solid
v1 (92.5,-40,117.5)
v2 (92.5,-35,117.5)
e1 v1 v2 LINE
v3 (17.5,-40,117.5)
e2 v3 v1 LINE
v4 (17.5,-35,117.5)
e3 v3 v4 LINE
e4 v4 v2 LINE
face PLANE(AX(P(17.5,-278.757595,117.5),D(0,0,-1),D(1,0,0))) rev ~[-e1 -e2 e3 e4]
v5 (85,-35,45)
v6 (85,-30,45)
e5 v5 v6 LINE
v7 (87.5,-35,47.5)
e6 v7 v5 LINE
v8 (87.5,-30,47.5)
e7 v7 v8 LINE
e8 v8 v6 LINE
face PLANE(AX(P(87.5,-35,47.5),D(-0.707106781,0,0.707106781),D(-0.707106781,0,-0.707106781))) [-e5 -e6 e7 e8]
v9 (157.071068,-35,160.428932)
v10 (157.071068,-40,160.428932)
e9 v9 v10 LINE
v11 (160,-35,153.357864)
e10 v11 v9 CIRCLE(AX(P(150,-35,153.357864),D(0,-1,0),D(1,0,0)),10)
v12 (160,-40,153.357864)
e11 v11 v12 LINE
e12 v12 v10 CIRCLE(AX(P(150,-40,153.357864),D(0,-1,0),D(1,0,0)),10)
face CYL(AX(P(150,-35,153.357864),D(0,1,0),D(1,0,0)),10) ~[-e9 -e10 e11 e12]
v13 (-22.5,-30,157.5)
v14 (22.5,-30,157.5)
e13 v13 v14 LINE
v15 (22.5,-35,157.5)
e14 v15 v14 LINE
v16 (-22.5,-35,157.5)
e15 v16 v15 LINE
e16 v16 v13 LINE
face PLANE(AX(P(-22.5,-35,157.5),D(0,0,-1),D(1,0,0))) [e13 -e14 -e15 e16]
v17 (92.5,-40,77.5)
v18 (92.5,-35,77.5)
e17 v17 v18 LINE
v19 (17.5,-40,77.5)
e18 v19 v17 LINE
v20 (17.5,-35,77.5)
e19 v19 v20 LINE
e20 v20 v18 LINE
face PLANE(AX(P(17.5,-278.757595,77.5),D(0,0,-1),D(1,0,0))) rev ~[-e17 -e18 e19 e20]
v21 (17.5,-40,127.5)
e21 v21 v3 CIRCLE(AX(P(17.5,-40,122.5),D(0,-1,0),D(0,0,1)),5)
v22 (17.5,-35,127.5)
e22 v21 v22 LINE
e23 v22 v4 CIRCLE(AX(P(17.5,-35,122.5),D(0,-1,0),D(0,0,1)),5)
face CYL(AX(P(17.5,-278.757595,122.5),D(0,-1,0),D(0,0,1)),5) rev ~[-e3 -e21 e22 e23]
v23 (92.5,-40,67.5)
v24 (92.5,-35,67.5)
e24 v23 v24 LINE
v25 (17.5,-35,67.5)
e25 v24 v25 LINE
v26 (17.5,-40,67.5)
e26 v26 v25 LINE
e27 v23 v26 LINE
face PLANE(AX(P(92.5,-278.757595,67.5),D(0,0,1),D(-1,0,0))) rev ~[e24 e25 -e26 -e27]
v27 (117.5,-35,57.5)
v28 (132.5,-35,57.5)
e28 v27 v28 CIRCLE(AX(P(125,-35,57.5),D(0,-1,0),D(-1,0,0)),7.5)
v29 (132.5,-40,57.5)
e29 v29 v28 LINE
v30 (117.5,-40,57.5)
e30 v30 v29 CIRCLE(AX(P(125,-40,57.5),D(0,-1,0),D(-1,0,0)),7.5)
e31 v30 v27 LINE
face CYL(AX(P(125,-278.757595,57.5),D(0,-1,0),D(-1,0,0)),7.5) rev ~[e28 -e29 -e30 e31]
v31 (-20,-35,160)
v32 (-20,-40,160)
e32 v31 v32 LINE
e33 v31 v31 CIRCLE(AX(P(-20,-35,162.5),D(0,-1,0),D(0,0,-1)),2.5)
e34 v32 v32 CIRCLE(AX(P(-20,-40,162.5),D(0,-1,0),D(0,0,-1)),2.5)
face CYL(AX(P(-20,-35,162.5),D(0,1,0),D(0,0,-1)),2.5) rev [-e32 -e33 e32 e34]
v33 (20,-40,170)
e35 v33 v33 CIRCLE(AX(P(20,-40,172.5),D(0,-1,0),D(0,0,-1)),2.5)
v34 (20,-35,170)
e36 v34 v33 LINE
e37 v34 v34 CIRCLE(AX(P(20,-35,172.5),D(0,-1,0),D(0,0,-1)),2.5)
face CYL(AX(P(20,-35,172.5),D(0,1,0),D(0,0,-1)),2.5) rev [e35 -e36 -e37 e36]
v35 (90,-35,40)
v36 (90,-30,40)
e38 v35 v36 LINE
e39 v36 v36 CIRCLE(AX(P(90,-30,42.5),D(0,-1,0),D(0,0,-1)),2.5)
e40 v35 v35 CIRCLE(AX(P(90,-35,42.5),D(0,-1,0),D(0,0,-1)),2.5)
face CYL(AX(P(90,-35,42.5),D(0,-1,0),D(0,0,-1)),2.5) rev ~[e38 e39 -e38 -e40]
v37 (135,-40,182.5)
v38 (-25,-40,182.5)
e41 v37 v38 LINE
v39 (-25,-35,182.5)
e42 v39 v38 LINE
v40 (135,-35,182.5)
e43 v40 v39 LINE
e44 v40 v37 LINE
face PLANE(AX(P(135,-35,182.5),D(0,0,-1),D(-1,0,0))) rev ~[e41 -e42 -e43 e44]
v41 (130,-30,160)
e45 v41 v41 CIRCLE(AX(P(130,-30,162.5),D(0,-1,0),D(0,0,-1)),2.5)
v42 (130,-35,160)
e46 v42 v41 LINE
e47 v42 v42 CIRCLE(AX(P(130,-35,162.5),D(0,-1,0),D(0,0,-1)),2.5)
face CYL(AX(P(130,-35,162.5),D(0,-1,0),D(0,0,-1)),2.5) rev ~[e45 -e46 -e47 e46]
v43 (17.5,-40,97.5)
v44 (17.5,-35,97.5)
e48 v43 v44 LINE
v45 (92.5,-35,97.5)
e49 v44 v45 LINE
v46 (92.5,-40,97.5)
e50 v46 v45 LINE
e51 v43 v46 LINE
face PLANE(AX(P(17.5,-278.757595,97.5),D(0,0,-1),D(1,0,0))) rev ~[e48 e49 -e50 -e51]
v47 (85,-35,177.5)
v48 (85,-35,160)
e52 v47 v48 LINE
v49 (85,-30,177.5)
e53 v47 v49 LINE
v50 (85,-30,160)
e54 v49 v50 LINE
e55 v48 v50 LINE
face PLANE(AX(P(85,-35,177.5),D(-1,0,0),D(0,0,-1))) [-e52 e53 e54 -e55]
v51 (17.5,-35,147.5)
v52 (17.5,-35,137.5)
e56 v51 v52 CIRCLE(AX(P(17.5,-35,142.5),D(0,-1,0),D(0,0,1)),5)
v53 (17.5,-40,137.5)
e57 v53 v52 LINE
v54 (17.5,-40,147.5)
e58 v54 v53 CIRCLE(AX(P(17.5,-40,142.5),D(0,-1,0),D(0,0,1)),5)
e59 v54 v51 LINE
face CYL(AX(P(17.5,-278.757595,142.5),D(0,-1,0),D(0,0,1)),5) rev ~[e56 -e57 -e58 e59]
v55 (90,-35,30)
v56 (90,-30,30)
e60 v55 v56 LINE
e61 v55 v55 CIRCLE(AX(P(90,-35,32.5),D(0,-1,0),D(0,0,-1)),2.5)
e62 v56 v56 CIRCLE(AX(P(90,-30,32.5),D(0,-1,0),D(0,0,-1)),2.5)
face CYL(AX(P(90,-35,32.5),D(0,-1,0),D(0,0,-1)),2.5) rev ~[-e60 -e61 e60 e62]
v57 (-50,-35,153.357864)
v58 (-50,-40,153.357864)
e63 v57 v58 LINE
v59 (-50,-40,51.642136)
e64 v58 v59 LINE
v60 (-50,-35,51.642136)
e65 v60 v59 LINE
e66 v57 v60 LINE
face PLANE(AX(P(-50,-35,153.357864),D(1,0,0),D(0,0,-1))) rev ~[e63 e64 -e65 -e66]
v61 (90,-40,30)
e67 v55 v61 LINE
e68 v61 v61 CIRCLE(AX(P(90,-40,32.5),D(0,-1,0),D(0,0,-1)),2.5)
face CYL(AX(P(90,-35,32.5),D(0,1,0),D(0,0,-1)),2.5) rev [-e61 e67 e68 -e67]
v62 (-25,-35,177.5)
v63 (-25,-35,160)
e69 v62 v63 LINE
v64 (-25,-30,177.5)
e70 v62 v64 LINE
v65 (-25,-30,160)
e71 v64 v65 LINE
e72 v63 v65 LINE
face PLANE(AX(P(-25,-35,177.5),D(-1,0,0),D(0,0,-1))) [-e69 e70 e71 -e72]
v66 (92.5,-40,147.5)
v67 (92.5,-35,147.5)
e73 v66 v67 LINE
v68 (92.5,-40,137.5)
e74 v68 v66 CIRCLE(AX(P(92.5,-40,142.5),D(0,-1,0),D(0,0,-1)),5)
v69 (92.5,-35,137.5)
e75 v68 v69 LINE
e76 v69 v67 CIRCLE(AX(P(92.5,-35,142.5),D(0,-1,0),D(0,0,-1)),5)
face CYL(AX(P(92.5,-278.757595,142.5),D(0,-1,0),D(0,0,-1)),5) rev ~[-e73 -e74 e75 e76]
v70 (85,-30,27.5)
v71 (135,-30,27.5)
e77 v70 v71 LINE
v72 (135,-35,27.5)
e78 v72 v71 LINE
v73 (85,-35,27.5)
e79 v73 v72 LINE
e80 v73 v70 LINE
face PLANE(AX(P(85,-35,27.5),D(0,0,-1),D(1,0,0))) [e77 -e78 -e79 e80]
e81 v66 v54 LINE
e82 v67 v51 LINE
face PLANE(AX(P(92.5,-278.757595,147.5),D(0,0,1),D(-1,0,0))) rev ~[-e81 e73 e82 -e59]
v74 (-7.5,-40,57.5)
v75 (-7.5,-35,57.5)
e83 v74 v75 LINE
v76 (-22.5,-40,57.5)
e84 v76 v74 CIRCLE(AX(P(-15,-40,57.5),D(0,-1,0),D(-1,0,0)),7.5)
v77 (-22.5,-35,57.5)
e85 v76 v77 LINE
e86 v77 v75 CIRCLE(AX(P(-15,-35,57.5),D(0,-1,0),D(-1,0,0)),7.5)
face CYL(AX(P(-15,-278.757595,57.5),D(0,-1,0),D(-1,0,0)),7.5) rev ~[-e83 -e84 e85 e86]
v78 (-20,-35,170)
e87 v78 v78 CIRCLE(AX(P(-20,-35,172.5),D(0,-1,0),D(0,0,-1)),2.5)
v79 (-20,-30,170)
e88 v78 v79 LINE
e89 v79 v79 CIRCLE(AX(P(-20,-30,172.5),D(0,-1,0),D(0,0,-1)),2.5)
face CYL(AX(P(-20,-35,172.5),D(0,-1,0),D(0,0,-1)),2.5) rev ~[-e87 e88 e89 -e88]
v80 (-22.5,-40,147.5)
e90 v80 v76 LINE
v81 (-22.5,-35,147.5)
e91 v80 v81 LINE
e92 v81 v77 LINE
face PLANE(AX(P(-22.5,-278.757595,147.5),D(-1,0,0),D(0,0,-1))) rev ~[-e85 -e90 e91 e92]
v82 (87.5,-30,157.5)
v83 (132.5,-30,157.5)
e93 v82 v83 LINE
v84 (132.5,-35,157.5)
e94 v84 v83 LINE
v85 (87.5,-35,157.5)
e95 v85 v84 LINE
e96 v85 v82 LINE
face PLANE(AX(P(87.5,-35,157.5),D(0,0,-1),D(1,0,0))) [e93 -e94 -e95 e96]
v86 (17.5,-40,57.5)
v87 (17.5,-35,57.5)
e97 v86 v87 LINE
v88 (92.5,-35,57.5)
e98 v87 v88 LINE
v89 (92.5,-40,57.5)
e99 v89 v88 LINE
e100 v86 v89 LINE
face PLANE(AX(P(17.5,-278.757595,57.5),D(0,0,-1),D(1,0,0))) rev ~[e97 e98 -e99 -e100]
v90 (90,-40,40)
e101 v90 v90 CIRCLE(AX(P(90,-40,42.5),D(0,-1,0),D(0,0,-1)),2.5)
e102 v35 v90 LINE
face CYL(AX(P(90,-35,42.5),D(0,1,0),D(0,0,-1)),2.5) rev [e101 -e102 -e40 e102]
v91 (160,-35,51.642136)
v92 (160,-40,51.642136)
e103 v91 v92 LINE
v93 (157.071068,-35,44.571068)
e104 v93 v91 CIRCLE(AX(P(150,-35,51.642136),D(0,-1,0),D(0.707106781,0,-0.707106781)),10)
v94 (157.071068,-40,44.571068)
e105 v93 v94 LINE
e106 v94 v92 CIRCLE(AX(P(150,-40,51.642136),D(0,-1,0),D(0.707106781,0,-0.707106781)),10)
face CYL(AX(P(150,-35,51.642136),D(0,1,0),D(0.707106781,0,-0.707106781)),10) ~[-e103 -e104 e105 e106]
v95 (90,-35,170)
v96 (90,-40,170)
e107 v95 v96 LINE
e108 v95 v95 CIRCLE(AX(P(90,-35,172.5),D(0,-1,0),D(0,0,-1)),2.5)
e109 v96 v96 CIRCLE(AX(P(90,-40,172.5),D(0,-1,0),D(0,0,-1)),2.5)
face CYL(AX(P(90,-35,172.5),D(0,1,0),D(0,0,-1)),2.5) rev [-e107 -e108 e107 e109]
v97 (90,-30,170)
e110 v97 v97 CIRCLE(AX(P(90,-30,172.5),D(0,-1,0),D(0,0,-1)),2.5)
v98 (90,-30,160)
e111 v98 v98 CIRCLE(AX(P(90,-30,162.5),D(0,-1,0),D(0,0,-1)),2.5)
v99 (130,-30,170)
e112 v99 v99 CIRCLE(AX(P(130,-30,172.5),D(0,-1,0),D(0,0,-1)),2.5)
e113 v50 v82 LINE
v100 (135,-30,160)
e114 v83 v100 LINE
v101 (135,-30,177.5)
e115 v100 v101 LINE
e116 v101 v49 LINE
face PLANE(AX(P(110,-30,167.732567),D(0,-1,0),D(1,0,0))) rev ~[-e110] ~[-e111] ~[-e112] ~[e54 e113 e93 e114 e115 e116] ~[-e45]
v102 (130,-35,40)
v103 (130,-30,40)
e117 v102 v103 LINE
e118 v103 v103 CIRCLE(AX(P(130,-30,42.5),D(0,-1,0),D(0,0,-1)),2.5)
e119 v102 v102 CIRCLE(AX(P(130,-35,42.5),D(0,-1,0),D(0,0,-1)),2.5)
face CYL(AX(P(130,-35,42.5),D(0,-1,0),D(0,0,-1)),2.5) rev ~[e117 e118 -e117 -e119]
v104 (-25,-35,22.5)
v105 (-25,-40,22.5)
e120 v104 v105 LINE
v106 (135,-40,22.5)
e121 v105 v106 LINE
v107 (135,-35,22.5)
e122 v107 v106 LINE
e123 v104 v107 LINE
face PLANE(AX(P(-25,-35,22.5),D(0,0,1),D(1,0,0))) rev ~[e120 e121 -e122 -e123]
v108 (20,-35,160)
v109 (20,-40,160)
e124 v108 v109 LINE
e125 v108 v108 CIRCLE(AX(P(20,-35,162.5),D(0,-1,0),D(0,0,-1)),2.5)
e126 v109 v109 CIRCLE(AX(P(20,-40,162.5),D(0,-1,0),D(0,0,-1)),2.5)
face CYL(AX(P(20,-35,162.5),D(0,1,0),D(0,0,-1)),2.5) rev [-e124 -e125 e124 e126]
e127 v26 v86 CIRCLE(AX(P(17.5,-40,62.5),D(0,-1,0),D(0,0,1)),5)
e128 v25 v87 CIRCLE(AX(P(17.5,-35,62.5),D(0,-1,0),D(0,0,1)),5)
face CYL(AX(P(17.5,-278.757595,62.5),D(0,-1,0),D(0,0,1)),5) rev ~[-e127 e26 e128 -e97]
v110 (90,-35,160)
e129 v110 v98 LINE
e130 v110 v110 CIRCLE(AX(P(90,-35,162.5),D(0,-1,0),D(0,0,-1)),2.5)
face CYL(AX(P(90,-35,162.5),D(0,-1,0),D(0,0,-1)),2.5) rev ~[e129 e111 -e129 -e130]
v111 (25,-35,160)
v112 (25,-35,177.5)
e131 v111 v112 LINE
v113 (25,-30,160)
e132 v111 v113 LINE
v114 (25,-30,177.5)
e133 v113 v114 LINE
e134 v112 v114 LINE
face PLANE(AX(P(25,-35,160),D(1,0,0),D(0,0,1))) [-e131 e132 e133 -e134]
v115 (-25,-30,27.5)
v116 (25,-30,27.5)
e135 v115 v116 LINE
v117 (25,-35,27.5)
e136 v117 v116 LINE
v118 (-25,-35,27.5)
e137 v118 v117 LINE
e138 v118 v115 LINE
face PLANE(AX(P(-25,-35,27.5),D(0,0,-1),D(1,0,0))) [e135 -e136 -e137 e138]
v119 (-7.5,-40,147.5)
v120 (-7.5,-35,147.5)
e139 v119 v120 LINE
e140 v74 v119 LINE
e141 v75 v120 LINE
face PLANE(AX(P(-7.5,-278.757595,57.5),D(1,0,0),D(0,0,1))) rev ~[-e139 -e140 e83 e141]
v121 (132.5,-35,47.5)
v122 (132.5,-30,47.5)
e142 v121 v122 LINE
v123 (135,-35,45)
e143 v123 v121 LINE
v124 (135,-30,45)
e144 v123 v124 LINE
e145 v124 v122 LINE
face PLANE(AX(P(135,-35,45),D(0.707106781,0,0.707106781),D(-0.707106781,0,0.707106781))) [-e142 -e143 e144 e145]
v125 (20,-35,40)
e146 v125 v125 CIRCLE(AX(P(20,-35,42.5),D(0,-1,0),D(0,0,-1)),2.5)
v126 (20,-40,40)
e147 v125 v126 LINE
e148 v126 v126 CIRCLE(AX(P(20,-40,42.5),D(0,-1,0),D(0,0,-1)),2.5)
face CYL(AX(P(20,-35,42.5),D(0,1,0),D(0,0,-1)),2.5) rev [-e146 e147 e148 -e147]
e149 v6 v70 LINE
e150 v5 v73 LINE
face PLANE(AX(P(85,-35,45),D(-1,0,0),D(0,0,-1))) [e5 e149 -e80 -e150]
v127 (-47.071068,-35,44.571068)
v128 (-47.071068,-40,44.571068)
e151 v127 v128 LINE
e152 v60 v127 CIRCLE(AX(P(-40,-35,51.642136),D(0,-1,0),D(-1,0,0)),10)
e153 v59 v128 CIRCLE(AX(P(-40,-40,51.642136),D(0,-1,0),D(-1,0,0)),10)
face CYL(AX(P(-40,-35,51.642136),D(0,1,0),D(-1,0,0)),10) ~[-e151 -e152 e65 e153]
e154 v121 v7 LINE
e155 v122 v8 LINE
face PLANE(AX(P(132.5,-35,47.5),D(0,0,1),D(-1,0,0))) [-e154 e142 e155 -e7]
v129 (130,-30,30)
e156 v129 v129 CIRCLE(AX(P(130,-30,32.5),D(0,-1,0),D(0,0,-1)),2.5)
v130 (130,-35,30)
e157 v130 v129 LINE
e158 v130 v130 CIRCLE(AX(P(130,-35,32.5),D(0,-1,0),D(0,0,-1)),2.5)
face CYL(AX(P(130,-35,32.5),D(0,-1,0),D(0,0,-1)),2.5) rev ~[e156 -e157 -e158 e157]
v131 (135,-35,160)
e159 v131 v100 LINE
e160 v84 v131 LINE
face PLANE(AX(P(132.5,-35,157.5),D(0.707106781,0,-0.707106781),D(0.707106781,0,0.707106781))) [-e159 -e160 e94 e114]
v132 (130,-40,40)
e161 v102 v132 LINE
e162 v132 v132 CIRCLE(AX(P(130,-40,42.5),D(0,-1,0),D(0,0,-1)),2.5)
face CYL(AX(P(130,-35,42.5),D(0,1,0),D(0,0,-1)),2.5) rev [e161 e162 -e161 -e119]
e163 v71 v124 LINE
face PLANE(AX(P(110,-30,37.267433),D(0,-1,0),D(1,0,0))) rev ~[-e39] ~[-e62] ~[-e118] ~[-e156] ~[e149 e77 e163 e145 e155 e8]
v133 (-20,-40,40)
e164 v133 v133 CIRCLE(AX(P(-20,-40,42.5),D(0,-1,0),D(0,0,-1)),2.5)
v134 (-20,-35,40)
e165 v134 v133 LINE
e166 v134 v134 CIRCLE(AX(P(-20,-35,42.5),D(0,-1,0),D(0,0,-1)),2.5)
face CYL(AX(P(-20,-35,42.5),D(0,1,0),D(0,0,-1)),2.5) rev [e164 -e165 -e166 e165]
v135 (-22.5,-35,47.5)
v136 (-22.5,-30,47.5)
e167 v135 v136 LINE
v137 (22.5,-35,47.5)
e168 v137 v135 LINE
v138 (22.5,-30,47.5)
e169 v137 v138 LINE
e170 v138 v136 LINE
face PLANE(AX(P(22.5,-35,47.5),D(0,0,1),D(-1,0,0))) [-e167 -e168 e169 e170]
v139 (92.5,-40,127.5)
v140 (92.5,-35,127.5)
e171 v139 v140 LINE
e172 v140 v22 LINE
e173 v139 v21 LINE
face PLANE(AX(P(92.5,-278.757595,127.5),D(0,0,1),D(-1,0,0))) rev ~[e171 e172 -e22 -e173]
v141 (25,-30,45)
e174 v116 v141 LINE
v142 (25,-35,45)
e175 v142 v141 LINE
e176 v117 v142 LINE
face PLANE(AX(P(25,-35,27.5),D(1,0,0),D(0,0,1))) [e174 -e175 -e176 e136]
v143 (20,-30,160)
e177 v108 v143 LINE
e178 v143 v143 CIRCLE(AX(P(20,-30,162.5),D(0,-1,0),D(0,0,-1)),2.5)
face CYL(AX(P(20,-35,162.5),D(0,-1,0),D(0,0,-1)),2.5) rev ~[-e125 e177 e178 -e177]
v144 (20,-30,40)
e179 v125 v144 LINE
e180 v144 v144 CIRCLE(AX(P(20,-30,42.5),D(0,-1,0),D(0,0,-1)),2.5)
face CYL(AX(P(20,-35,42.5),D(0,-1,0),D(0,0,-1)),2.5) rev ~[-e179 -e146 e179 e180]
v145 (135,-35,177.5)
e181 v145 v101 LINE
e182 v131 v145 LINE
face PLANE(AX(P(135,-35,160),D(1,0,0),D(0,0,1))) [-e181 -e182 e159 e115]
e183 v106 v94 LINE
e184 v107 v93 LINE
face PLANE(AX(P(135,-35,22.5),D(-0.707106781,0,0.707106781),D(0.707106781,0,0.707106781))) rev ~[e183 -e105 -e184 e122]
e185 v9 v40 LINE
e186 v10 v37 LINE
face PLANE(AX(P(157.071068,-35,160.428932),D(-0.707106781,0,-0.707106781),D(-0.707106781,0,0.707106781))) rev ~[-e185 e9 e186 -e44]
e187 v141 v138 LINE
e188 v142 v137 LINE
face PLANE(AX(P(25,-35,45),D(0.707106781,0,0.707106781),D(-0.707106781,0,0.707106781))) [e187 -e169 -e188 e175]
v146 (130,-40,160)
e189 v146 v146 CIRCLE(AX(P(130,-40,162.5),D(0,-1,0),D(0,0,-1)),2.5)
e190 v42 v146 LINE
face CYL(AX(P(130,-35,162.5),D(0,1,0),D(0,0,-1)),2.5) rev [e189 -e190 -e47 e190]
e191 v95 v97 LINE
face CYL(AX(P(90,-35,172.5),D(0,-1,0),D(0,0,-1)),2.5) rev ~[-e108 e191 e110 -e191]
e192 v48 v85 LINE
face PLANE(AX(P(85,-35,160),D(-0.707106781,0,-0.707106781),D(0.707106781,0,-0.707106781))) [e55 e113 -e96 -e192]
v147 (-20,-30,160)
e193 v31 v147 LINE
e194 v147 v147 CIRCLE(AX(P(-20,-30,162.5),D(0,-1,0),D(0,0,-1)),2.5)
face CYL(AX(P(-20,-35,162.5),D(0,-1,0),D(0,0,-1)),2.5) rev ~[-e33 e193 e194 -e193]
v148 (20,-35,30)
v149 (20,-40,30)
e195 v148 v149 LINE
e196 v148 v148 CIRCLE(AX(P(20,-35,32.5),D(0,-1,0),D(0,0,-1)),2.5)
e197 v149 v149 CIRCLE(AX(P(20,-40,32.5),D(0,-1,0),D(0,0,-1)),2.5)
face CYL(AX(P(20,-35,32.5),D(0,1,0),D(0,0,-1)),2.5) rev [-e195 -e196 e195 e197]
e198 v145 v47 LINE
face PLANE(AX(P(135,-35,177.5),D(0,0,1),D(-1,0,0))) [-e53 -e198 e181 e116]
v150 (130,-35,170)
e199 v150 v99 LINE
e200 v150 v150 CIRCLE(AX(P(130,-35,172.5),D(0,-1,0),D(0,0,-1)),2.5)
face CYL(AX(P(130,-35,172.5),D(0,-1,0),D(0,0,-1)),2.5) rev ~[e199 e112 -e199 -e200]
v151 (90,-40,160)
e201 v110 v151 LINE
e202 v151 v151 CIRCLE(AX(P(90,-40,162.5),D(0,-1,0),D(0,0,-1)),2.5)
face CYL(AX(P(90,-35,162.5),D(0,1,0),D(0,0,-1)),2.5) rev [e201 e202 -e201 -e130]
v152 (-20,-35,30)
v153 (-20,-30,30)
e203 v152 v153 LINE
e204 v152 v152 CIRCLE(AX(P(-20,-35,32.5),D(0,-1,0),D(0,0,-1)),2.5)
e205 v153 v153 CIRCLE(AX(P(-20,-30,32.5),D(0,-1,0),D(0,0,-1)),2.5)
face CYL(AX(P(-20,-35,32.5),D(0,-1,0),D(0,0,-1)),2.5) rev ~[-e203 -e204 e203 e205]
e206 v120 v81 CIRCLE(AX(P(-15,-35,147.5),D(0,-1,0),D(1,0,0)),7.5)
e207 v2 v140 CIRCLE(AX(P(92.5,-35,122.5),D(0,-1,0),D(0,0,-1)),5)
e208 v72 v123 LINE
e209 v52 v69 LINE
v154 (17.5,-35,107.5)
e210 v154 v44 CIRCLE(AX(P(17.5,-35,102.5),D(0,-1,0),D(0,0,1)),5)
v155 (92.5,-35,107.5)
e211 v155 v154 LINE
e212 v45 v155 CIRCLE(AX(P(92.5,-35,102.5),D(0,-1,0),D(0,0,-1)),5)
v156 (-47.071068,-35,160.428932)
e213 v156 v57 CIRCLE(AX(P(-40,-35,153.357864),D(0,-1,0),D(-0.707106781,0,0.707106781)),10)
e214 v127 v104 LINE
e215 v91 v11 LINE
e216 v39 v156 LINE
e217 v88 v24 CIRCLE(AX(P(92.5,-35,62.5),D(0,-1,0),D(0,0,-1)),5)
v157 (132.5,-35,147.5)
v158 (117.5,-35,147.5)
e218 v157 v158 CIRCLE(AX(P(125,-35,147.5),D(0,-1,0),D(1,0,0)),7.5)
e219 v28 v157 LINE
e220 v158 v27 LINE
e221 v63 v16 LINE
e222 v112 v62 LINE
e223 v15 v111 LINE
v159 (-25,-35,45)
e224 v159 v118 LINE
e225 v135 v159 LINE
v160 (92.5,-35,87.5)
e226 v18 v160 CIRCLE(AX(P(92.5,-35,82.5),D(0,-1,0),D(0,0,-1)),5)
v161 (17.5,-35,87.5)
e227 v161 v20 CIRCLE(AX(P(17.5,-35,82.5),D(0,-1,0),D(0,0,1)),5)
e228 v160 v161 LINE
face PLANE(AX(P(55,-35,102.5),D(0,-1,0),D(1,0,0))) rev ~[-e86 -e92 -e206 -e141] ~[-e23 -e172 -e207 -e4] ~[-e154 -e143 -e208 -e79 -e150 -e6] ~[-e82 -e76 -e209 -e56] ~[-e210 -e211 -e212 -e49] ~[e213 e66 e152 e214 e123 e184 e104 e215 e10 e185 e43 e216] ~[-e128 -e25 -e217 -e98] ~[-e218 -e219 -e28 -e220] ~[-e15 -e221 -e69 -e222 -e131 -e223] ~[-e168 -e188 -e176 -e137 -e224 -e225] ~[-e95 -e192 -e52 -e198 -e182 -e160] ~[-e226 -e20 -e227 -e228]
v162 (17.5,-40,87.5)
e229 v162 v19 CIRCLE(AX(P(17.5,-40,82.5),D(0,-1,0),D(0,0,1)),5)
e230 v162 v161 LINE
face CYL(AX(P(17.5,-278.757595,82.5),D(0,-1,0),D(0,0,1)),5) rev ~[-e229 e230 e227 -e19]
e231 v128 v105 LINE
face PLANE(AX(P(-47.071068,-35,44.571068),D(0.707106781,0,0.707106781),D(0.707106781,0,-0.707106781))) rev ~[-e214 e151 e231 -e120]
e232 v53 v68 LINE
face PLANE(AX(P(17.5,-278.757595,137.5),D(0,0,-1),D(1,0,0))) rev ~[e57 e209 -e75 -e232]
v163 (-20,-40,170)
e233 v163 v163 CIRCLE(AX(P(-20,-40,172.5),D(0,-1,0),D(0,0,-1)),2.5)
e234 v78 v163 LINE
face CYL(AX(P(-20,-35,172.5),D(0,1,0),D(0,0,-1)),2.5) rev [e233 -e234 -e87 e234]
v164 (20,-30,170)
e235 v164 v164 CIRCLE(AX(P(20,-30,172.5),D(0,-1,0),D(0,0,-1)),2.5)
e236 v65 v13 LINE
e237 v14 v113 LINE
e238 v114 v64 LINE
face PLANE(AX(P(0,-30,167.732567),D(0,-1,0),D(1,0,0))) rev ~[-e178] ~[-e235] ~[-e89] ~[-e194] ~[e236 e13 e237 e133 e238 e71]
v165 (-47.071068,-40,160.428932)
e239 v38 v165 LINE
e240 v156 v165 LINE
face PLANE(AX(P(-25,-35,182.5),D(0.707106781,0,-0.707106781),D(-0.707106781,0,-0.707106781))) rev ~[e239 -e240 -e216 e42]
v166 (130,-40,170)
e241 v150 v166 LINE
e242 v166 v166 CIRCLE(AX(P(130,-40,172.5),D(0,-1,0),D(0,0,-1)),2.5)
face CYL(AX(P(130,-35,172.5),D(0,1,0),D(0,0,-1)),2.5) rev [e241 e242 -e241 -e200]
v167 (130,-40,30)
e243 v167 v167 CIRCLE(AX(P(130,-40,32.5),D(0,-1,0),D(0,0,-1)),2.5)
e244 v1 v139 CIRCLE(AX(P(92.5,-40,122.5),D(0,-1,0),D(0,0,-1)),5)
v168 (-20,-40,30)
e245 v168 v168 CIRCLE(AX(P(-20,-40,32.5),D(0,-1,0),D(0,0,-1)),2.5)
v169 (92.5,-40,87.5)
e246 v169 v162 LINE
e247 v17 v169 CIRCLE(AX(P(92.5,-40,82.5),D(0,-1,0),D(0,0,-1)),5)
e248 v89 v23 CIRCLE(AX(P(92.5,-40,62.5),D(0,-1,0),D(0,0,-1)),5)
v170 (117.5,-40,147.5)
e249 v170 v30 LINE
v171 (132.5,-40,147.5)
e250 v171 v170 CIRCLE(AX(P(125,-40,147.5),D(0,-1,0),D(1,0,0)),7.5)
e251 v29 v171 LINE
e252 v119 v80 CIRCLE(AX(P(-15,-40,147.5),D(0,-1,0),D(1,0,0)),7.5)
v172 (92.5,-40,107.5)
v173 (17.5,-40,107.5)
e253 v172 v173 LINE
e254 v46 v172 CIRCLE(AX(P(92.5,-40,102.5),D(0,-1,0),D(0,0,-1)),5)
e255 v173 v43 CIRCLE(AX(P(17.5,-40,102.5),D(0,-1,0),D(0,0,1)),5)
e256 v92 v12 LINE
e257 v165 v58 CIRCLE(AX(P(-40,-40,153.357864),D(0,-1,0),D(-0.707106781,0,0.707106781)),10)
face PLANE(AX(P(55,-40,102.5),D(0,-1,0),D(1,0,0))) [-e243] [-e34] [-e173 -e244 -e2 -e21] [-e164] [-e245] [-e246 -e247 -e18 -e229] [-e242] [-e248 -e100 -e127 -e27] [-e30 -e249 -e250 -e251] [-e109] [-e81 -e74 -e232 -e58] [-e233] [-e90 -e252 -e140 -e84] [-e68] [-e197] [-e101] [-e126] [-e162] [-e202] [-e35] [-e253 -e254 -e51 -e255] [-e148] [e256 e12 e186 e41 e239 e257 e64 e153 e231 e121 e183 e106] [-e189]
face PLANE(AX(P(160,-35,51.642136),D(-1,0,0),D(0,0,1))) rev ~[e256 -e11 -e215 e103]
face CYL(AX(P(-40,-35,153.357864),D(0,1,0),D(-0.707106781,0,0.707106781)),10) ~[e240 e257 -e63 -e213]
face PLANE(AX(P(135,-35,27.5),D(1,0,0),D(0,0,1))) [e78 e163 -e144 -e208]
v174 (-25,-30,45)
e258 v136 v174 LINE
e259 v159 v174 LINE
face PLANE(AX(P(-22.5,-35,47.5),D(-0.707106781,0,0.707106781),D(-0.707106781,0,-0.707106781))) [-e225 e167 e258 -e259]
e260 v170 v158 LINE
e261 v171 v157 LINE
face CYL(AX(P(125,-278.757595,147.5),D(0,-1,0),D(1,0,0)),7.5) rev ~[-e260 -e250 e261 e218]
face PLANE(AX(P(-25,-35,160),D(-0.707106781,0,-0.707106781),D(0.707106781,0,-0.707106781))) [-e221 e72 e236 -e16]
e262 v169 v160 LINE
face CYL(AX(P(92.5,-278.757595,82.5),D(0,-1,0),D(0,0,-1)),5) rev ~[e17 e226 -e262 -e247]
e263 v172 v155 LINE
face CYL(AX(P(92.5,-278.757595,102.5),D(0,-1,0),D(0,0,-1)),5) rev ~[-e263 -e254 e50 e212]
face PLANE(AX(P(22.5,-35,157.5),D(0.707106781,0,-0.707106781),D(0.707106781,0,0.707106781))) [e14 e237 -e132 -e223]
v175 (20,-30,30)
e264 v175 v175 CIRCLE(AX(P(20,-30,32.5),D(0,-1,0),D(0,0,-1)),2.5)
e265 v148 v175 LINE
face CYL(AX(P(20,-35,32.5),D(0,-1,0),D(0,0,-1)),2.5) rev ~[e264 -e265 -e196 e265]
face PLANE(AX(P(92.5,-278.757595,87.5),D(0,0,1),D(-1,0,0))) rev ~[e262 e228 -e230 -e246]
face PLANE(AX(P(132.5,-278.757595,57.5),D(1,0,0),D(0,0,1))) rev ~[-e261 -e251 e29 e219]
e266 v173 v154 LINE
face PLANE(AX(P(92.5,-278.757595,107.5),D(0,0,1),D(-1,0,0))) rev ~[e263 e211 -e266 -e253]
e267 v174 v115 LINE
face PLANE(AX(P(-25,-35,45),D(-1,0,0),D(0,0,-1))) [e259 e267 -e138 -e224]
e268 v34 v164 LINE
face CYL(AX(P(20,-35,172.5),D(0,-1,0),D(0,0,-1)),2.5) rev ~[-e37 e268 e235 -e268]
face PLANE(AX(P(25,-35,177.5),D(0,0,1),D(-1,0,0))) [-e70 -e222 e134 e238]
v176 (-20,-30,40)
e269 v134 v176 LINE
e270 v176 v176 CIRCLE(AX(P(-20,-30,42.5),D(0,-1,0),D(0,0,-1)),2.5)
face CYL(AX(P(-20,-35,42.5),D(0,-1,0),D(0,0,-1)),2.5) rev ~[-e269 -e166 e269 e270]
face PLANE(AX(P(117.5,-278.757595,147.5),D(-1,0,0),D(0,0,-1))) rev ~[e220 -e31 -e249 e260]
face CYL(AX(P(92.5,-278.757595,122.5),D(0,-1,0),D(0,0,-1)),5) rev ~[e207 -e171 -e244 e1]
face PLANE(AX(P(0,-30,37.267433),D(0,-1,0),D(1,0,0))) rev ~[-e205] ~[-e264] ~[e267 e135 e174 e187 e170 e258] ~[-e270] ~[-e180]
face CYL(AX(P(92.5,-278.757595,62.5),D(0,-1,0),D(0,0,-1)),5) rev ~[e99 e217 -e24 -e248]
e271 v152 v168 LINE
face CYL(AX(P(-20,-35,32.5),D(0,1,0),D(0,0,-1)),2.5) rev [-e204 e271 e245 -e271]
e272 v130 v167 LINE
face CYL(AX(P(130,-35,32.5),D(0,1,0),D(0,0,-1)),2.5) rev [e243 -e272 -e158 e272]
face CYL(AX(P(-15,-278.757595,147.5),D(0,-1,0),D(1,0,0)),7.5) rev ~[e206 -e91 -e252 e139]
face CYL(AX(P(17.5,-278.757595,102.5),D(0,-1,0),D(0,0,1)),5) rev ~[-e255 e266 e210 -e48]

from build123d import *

# Parameters (mm, degrees)
SKETCH1_R               = 18.5
BOSS_EXTRUDE1_DEPTH     = 22.5
SKETCH2_R               = 1.6
CUT_EXTRUDE1_DEPTH      = 3.5
BOSS_EXTRUDE2_DEPTH     = 36.3
BOSS_EXTRUDE3_DEPTH     = 6.3
SKETCH4_R               = 14.5
BOSS_EXTRUDE4_DEPTH     = 37.8
SKETCH5_R               = 5
BOSS_EXTRUDE5_DEPTH     = 3
SKETCH6_R               = 1
BOSS_EXTRUDE6_DEPTH     = 9
SKETCH7_W               = 0.5
SKETCH7_H               = 3
BOSS_EXTRUDE7_DEPTH     = 6.5
CUT_EXTRUDE2_DEPTH      = 0.5
FILLET1_R               = 0.5
CHAMFER1_SIZE           = 0.2
CUT_EXTRUDE3_DEPTH      = 67.7078706
CUT_EXTRUDE3_DEPTH_BACK = 67.7078706
SKETCH9_R               = 1.6
SKETCH10_R              = 1.6
BOSS_EXTRUDE8_DEPTH     = 10
BOSS_EXTRUDE8_2_DEPTH   = 10
BOSS_EXTRUDE8_3_DEPTH   = 10
BOSS_EXTRUDE8_4_DEPTH   = 10
BOSS_EXTRUDE8_5_DEPTH   = 10
BOSS_EXTRUDE8_6_DEPTH   = 10
SKETCH11_W              = 50
SKETCH11_H              = 60
BOSS_EXTRUDE9_DEPTH     = 5
SKETCH13_W              = 56.82563108
SKETCH13_H              = 53.984349526
CUT_EXTRUDE4_DEPTH      = 121
CUT_EXTRUDE5_DEPTH      = 54.194830576
CUT_EXTRUDE5_DEPTH_BACK = 54.194830576
SKETCH14_R              = 1.6
SKETCH14_R_2            = 6
SKETCH15_W              = 160
SKETCH15_H              = 160
BOSS_EXTRUDE10_DEPTH    = 5
CHAMFER2_SIZE           = 2.5
CHAMFER3_SIZE           = 2.5
CUT_EXTRUDE6_DEPTH      = 237.127613802
SKETCH19_W              = 25
SKETCH19_H              = 160
BOSS_EXTRUDE11_DEPTH    = 5
CHAMFER4_SIZE           = 25
SKETCH20_R              = 12.5
SKETCH20_R_2            = 7.5
CUT_EXTRUDE7_DEPTH      = 10
CHAMFER5_SIZE           = 2.5
CHAMFER6_SIZE           = 2.5
FILLET2_R               = 10
BOSS_EXTRUDE12_START    = -5
SKETCH21_W              = 50
SKETCH21_H              = 20
SKETCH21_R              = 2.5
BOSS_EXTRUDE12_DEPTH    = 5
CHAMFER7_SIZE           = 2.5
SKETCH22_R              = 2.5
BOSS_EXTRUDE13_DEPTH    = 5
SKETCH23_W              = 231.350746522
SKETCH23_H              = 96.020227026
CUT_EXTRUDE8_DEPTH      = 212
SKETCH22_3_R            = 2.5
BOSS_EXTRUDE14_DEPTH    = 5
CUT_EXTRUDE9_DEPTH      = 243.757595144
CUT_EXTRUDE9_DEPTH_BACK = 243.757595144


with BuildPart() as part:
    # Sketch1 → Boss-Extrude1 (new body)
    with BuildSketch(Plane.XY):
        with Locations(Location((0, 0, 0), (0, 0, 180))):
            Circle(SKETCH1_R)
    extrude(amount=BOSS_EXTRUDE1_DEPTH)

    # Sketch2 → Cut-Extrude1 (cut)
    with BuildSketch(Plane.XY.offset(22.5)):
        with Locations((-7.75, 13.423393759)):
            Circle(SKETCH2_R)
        with Locations((7.75, 13.423393759)):
            Circle(SKETCH2_R)
        with Locations((-15.5, 0)):
            Circle(SKETCH2_R)
        with Locations((-7.75, -13.423393759)):
            Circle(SKETCH2_R)
        with Locations((7.75, -13.423393759)):
            Circle(SKETCH2_R)
        with Locations((15.5, 0)):
            Circle(SKETCH2_R)
    extrude(amount=-CUT_EXTRUDE1_DEPTH, mode=Mode.SUBTRACT)

    # Sketch3 → Boss-Extrude2 (add)
    with BuildSketch(Plane.XY.offset(22.5)):
        with BuildLine():
            ThreePointArc((0, 10), (-3, 7), (0, 4))
            Line((0, 4), (0, 10))
        make_face()
        with BuildLine():
            Line((0, 10), (0, 4))
            ThreePointArc((0, 4), (2.121320344, 4.878679656), (3, 7))
            ThreePointArc((3, 7), (2.121320344, 9.121320344), (0, 10))
        make_face()
    extrude(amount=BOSS_EXTRUDE2_DEPTH)

    # Sketch3<3> → Boss-Extrude3 (add)
    with BuildSketch(Plane.XY.offset(22.5)):
        with BuildLine():
            ThreePointArc((0, 13), (-6, 7), (0, 1))
            Line((0, 1), (0, 4))
            ThreePointArc((0, 4), (-3, 7), (0, 10))
            Line((0, 10), (0, 13))
        make_face()
        with BuildLine():
            Line((0, 4), (0, 1))
            ThreePointArc((0, 1), (4.242640687, 2.757359313), (6, 7))
            ThreePointArc((6, 7), (4.242640687, 11.242640687), (0, 13))
            Line((0, 13), (0, 10))
            ThreePointArc((0, 10), (2.121320344, 9.121320344), (3, 7))
            ThreePointArc((3, 7), (2.121320344, 4.878679656), (0, 4))
        make_face()
    extrude(amount=BOSS_EXTRUDE3_DEPTH)

    # Sketch4 → Boss-Extrude4 (add)
    with BuildSketch(Plane(origin=(0, 0, 0), x_dir=(-1, 0, 0), z_dir=(0, 0, -1))):
        with Locations(Location((0, 0, 0), (0, 0, 180))):
            Circle(SKETCH4_R)
    extrude(amount=BOSS_EXTRUDE4_DEPTH)

    # Sketch5 → Boss-Extrude5 (add)
    with BuildSketch(Plane(origin=(0, 0, -37.8), x_dir=(-1, 0, 0), z_dir=(0, 0, -1))):
        Circle(SKETCH5_R)
    extrude(amount=BOSS_EXTRUDE5_DEPTH)

    # Sketch6 → Boss-Extrude6 (add)
    with BuildSketch(Plane(origin=(0, 0, -40.8), x_dir=(-1, 0, 0), z_dir=(0, 0, -1))):
        Circle(SKETCH6_R)
    extrude(amount=BOSS_EXTRUDE6_DEPTH)

    # Sketch7 → Boss-Extrude7 (add)
    with BuildSketch(Plane(origin=(0, 0, -37.8), x_dir=(-1, 0, 0), z_dir=(0, 0, -1))):
        with Locations((-11.75, 0)):
            Rectangle(SKETCH7_W, SKETCH7_H)
        with Locations((11.75, 0)):
            Rectangle(SKETCH7_W, SKETCH7_H)
    extrude(amount=BOSS_EXTRUDE7_DEPTH)

    # Sketch8 → Cut-Extrude2 (cut)
    with BuildSketch(Plane(origin=(12, 0, 0), x_dir=(0, 0, -1), z_dir=(1, 0, 0))):
        with BuildLine():
            Line((42.865122037, -0.320114275), (41.665122037, -0.320114275))
            ThreePointArc((41.665122037, -0.320114275), (41.345007763, 0), (41.665122037, 0.320114275))
            Line((41.665122037, 0.320114275), (42.865122037, 0.320114275))
            ThreePointArc((42.865122037, 0.320114275), (43.185236312, 0), (42.865122037, -0.320114275))
        make_face()
    cut_extrude2 = extrude(amount=-CUT_EXTRUDE2_DEPTH, mode=Mode.SUBTRACT)

    # Mirror2: Cut-Extrude2 across plane
    add(cut_extrude2.mirror(Plane(origin=(0, 0, 0), x_dir=(0, 0, 1), z_dir=(1, 0, 0))), mode=Mode.SUBTRACT)

    # Fillet1
    fillet1_edges = [part.edges().sort_by_distance(p)[0] for p in [
        (11.75, -1.5, -44.3),
        (11.75, 1.5, -44.3),
        (-11.75, 1.5, -44.3),
        (-11.75, -1.5, -44.3),
    ]]
    fillet(fillet1_edges, radius=FILLET1_R)

    # Chamfer1
    chamfer1_edges = [part.edges().sort_by_distance(p)[0] for p in [
        (0, 4, 58.8),
        (0, 1, 28.8),
        (18.5, 0, 22.5),
    ]]
    chamfer(chamfer1_edges, length=CHAMFER1_SIZE)

    # Sketch9 → Cut-Extrude3 (cut, two sides: drawn at the far end of the back side and taken through both)
    with BuildSketch(Plane(origin=(0, 7, 0), x_dir=(1, 0, 0), z_dir=(0, 1, 0)).offset(-CUT_EXTRUDE3_DEPTH_BACK)):
        with Locations(Location((0, -50.8, 0), (0, 0, 270))):
            Circle(SKETCH9_R)
    extrude(amount=CUT_EXTRUDE3_DEPTH + CUT_EXTRUDE3_DEPTH_BACK, mode=Mode.SUBTRACT)



with BuildPart() as body_2:
    # Sketch10 → Boss-Extrude8 (new body)
    with BuildSketch(Plane.XY.offset(22.5)):
        with Locations((-7.75, 13.423393759)):
            Circle(SKETCH10_R)
    extrude(amount=BOSS_EXTRUDE8_DEPTH)


with BuildPart() as body_3:
    # Sketch10 → Boss-Extrude8 2 (new body)
    with BuildSketch(Plane.XY.offset(22.5)):
        with Locations((-15.5, 0)):
            Circle(SKETCH10_R)
    extrude(amount=BOSS_EXTRUDE8_2_DEPTH)


with BuildPart() as body_4:
    # Sketch10 → Boss-Extrude8 3 (new body)
    with BuildSketch(Plane.XY.offset(22.5)):
        with Locations((-7.75, -13.423393759)):
            Circle(SKETCH10_R)
    extrude(amount=BOSS_EXTRUDE8_3_DEPTH)


with BuildPart() as body_5:
    # Sketch10 → Boss-Extrude8 4 (new body)
    with BuildSketch(Plane.XY.offset(22.5)):
        with Locations((7.75, -13.423393759)):
            Circle(SKETCH10_R)
    extrude(amount=BOSS_EXTRUDE8_4_DEPTH)


with BuildPart() as body_6:
    # Sketch10 → Boss-Extrude8 5 (new body)
    with BuildSketch(Plane.XY.offset(22.5)):
        with Locations((15.5, 0)):
            Circle(SKETCH10_R)
    extrude(amount=BOSS_EXTRUDE8_5_DEPTH)


with BuildPart() as body_7:
    # Sketch10 → Boss-Extrude8 6 (new body)
    with BuildSketch(Plane.XY.offset(22.5)):
        with Locations((7.75, 13.423393759)):
            Circle(SKETCH10_R)
    extrude(amount=BOSS_EXTRUDE8_6_DEPTH)


with BuildPart() as part_1:
    add(part.part)

    add(body_2.part)  # Boss-Extrude9 merges body 2

    add(body_3.part)  # Boss-Extrude9 merges body 3

    add(body_4.part)  # Boss-Extrude9 merges body 4

    add(body_5.part)  # Boss-Extrude9 merges body 5

    add(body_6.part)  # Boss-Extrude9 merges body 6

    add(body_7.part)  # Boss-Extrude9 merges body 7
    # Sketch11 → Boss-Extrude9 (add)
    with BuildSketch(Plane.XY.offset(22.5)):
        with Locations((0, -5)):
            Rectangle(SKETCH11_W, SKETCH11_H)
    extrude(amount=BOSS_EXTRUDE9_DEPTH)

    # Sketch13 → Cut-Extrude4 (cut)
    with BuildSketch(Plane(origin=(0, 0, 22.5), x_dir=(-1, 0, 0), z_dir=(0, 0, -1))):
        with Locations((0.725433588, -0.664980789)):
            Rectangle(SKETCH13_W, SKETCH13_H)
    extrude(amount=CUT_EXTRUDE4_DEPTH, mode=Mode.SUBTRACT)

    # Sketch14 → Cut-Extrude5 (cut, two sides: drawn at the far end of the back side and taken through both)
    with BuildSketch(Plane.XY.offset(27.5).offset(-CUT_EXTRUDE5_DEPTH_BACK)):
        with Locations((-7.75, 13.423393759)):
            Circle(SKETCH14_R)
        with Locations((7.75, 13.423393759)):
            Circle(SKETCH14_R)
        with Locations((-15.5, 0)):
            Circle(SKETCH14_R)
        with Locations((-7.75, -13.423393759)):
            Circle(SKETCH14_R)
        with Locations((7.75, -13.423393759)):
            Circle(SKETCH14_R)
        with Locations((15.5, 0)):
            Circle(SKETCH14_R)
        with Locations((0, 7)):
            Circle(SKETCH14_R_2)
    extrude(amount=CUT_EXTRUDE5_DEPTH + CUT_EXTRUDE5_DEPTH_BACK, mode=Mode.SUBTRACT)

    # Sketch15 → Boss-Extrude10 (add)
    with BuildSketch(Plane(origin=(0, 25, 0), x_dir=(1, 0, 0), z_dir=(0, 1, 0))):
        with Locations((55, -102.5)):
            Rectangle(SKETCH15_W, SKETCH15_H)
    extrude(amount=BOSS_EXTRUDE10_DEPTH)

    # Mirror3: part across plane


with BuildPart() as part_2:
    add(part_1.part)
    add(part_1.part.mirror(Plane.XY.offset(102.5)))

    # Mirror11: part across plane


with BuildPart() as part_3:
    add(part_2.part)
    add(part_2.part.mirror(Plane(origin=(55, 0, 0), x_dir=(0, 0, 1), z_dir=(1, 0, 0))))

    # Chamfer2
    chamfer2_edges = [part_3.edges().sort_by_distance(p)[0] for p in [
        (25, 25, 25),
        (25, 25, 180),
        (85, 25, 25),
    ]]
    chamfer(chamfer2_edges, length=CHAMFER2_SIZE)

    # Chamfer3
    chamfer3_edges = [part_3.edges().sort_by_distance(p)[0] for p in [
        (85, 25, 180),
    ]]
    chamfer(chamfer3_edges, length=CHAMFER3_SIZE)

    # Sketch18 → Cut-Extrude6 (cut, through all)
    with BuildSketch(Plane(origin=(0, 30, 0), x_dir=(1, 0, 0), z_dir=(0, 1, 0))):
        with BuildLine():
            Line((92.5, -47.5), (17.5, -47.5))
            ThreePointArc((17.5, -47.5), (12.5, -42.5), (17.5, -37.5))
            Line((17.5, -37.5), (92.5, -37.5))
            ThreePointArc((92.5, -37.5), (97.5, -42.5), (92.5, -47.5))
        make_face()
        with BuildLine():
            Line((17.5, -57.5), (92.5, -57.5))
            ThreePointArc((92.5, -57.5), (97.5, -62.5), (92.5, -67.5))
            Line((92.5, -67.5), (17.5, -67.5))
            ThreePointArc((17.5, -67.5), (12.5, -62.5), (17.5, -57.5))
        make_face()
        with BuildLine():
            Line((17.5, -77.5), (92.5, -77.5))
            ThreePointArc((92.5, -77.5), (97.5, -82.5), (92.5, -87.5))
            Line((92.5, -87.5), (17.5, -87.5))
            ThreePointArc((17.5, -87.5), (12.5, -82.5), (17.5, -77.5))
        make_face()
        with BuildLine():
            Line((17.5, -97.5), (92.5, -97.5))
            ThreePointArc((92.5, -97.5), (97.5, -102.5), (92.5, -107.5))
            Line((92.5, -107.5), (17.5, -107.5))
            ThreePointArc((17.5, -107.5), (12.5, -102.5), (17.5, -97.5))
        make_face()
        with BuildLine():
            Line((17.5, -117.5), (92.5, -117.5))
            ThreePointArc((92.5, -117.5), (97.5, -122.5), (92.5, -127.5))
            Line((92.5, -127.5), (17.5, -127.5))
            ThreePointArc((17.5, -127.5), (12.5, -122.5), (17.5, -117.5))
        make_face()
        with BuildLine():
            Line((17.5, -137.5), (92.5, -137.5))
            ThreePointArc((92.5, -137.5), (97.5, -142.5), (92.5, -147.5))
            Line((92.5, -147.5), (17.5, -147.5))
            ThreePointArc((17.5, -147.5), (12.5, -142.5), (17.5, -137.5))
        make_face()
        with BuildLine():
            Line((92.5, -167.5), (17.5, -167.5))
            ThreePointArc((17.5, -167.5), (12.5, -162.5), (17.5, -157.5))
            Line((17.5, -157.5), (92.5, -157.5))
            ThreePointArc((92.5, -157.5), (97.5, -162.5), (92.5, -167.5))
        make_face()
    extrude(amount=-CUT_EXTRUDE6_DEPTH, mode=Mode.SUBTRACT)

    # Sketch19 → Boss-Extrude11 (add)
    with BuildSketch(Plane(origin=(0, 30, 0), x_dir=(1, 0, 0), z_dir=(0, 1, 0))):
        with Locations((-37.5, -102.5)):
            Rectangle(SKETCH19_W, SKETCH19_H)
        with Locations((147.5, -102.5)):
            Rectangle(SKETCH19_W, SKETCH19_H)
    extrude(amount=-BOSS_EXTRUDE11_DEPTH)

    # Chamfer4
    chamfer4_edges = [part_3.edges().sort_by_distance(p)[0] for p in [
        (-50, 27.5, 22.5),
        (-50, 27.5, 182.5),
        (160, 27.5, 182.5),
        (160, 27.5, 22.5),
    ]]
    chamfer(chamfer4_edges, length=CHAMFER4_SIZE)

    # Sketch20 → Cut-Extrude7 (cut)
    with BuildSketch(Plane(origin=(0, 30, 0), x_dir=(1, 0, 0), z_dir=(0, 1, 0))):
        with Locations(Location((130, -102.5, 0), (0, 0, 270))):
            Circle(SKETCH20_R)
        with Locations(Location((130, -62.5, 0), (0, 0, 270))):
            Circle(SKETCH20_R_2)
        with Locations(Location((130, -142.5, 0), (0, 0, 270))):
            Circle(SKETCH20_R_2)
        with Locations(Location((-20, -142.5, 0), (0, 0, 270))):
            Circle(SKETCH20_R_2)
        with Locations(Location((-20, -102.5, 0), (0, 0, 270))):
            Circle(SKETCH20_R)
        with Locations(Location((-20, -62.5, 0), (0, 0, 270))):
            Circle(SKETCH20_R_2)
    extrude(amount=-CUT_EXTRUDE7_DEPTH, mode=Mode.SUBTRACT)

    # Chamfer5
    chamfer5_edges = [part_3.edges().sort_by_distance(p)[0] for p in [
        (108.75, 25, 177.5),
        (1.25, 25, 177.5),
        (1.25, 25, 27.5),
        (108.75, 25, 27.5),
    ]]
    chamfer(chamfer5_edges, length=CHAMFER5_SIZE)

    # Chamfer6
    chamfer6_edges = [part_3.edges().sort_by_distance(p)[0] for p in [
        (135, 25, 178.75),
        (135, 25, 26.25),
        (-25, 25, 26.25),
        (-25, 25, 178.75),
    ]]
    chamfer(chamfer6_edges, length=CHAMFER6_SIZE)

    # Fillet2
    fillet2_edges = [part_3.edges().sort_by_distance(p)[0] for p in [
        (-50, 27.5, 157.5),
        (-50, 27.5, 47.5),
        (160, 27.5, 47.5),
        (160, 27.5, 157.5),
    ]]
    fillet(fillet2_edges, radius=FILLET2_R)

    # Sketch21 → Boss-Extrude12 (add)
    # profile 1 of 4: a face of its own
    with BuildSketch(Plane.XZ.offset(35).offset(BOSS_EXTRUDE12_START)):
        with Locations((110, 37.5)):
            Rectangle(SKETCH21_W, SKETCH21_H)
        with Locations(Location((90, 32.5, 0), (0, 0, 270))):
            Circle(SKETCH21_R, mode=Mode.SUBTRACT)
        with Locations(Location((90, 42.5, 0), (0, 0, 270))):
            Circle(SKETCH21_R, mode=Mode.SUBTRACT)
        with Locations(Location((130, 32.5, 0), (0, 0, 90))):
            Circle(SKETCH21_R, mode=Mode.SUBTRACT)
        with Locations(Location((130, 42.5, 0), (0, 0, 90))):
            Circle(SKETCH21_R, mode=Mode.SUBTRACT)
    # profile 2 of 4: a face of its own
    with BuildSketch(Plane.XZ.offset(35).offset(BOSS_EXTRUDE12_START)):
        with Locations((110, 167.5)):
            Rectangle(SKETCH21_W, SKETCH21_H)
        with Locations(Location((90, 162.5, 0), (0, 0, 90))):
            Circle(SKETCH21_R, mode=Mode.SUBTRACT)
        with Locations(Location((90, 172.5, 0), (0, 0, 90))):
            Circle(SKETCH21_R, mode=Mode.SUBTRACT)
        with Locations(Location((130, 172.5, 0), (0, 0, 270))):
            Circle(SKETCH21_R, mode=Mode.SUBTRACT)
        with Locations(Location((130, 162.5, 0), (0, 0, 270))):
            Circle(SKETCH21_R, mode=Mode.SUBTRACT)
    # profile 3 of 4: a face of its own
    with BuildSketch(Plane.XZ.offset(35).offset(BOSS_EXTRUDE12_START)):
        with Locations((0, 167.5)):
            Rectangle(SKETCH21_W, SKETCH21_H)
        with Locations(Location((-20, 162.5, 0), (0, 0, 90))):
            Circle(SKETCH21_R, mode=Mode.SUBTRACT)
        with Locations(Location((-20, 172.5, 0), (0, 0, 90))):
            Circle(SKETCH21_R, mode=Mode.SUBTRACT)
        with Locations(Location((20, 172.5, 0), (0, 0, 270))):
            Circle(SKETCH21_R, mode=Mode.SUBTRACT)
        with Locations(Location((20, 162.5, 0), (0, 0, 270))):
            Circle(SKETCH21_R, mode=Mode.SUBTRACT)
    # profile 4 of 4: a face of its own
    with BuildSketch(Plane.XZ.offset(35).offset(BOSS_EXTRUDE12_START)):
        with Locations((0, 37.5)):
            Rectangle(SKETCH21_W, SKETCH21_H)
        with Locations(Location((-20, 32.5, 0), (0, 0, 270))):
            Circle(SKETCH21_R, mode=Mode.SUBTRACT)
        with Locations(Location((-20, 42.5, 0), (0, 0, 270))):
            Circle(SKETCH21_R, mode=Mode.SUBTRACT)
        with Locations(Location((20, 32.5, 0), (0, 0, 90))):
            Circle(SKETCH21_R, mode=Mode.SUBTRACT)
        with Locations(Location((20, 42.5, 0), (0, 0, 90))):
            Circle(SKETCH21_R, mode=Mode.SUBTRACT)
    extrude(amount=-BOSS_EXTRUDE12_DEPTH)

    # Chamfer7
    chamfer7_edges = [part_3.edges().sort_by_distance(p)[0] for p in [
        (85, -27.5, 47.5),
        (135, -27.5, 47.5),
        (85, -27.5, 157.5),
        (135, -27.5, 157.5),
        (25, -27.5, 157.5),
        (-25, -27.5, 157.5),
        (-25, -27.5, 47.5),
        (25, -27.5, 47.5),
    ]]
    chamfer(chamfer7_edges, length=CHAMFER7_SIZE)

    # Sketch23 → Cut-Extrude8 (cut)
    with BuildSketch(Plane(origin=(0, 0, 22.5), x_dir=(-1, 0, 0), z_dir=(0, 0, -1))):
        with Locations((-44.324626739, 13.010113513)):
            Rectangle(SKETCH23_W, SKETCH23_H)
    extrude(amount=-CUT_EXTRUDE8_DEPTH, mode=Mode.SUBTRACT)


with BuildPart() as body_2_2:
    # Sketch22 → Boss-Extrude13 (new body)
    with BuildSketch(Plane.XZ.offset(35)):
        with BuildLine():
            Line((-25, 182.5), (-47.071067812, 160.428932188))
            ThreePointArc((-47.071067812, 160.428932188), (-49.238795325, 157.1846987), (-50, 153.357864376))
            Line((-50, 153.357864376), (-50, 51.642135624))
            ThreePointArc((-50, 51.642135624), (-49.238795325, 47.8153013), (-47.071067812, 44.571067812))
            Line((-47.071067812, 44.571067812), (-25, 22.5))
            Line((-25, 22.5), (135, 22.5))
            Line((135, 22.5), (157.071067812, 44.571067812))
            ThreePointArc((157.071067812, 44.571067812), (159.238795325, 47.8153013), (160, 51.642135624))
            Line((160, 51.642135624), (160, 153.357864376))
            ThreePointArc((160, 153.357864376), (159.238795325, 157.1846987), (157.071067812, 160.428932188))
            Line((157.071067812, 160.428932188), (135, 182.5))
            Line((135, 182.5), (-25, 182.5))
        make_face()
        with Locations(Location((-20, 32.5, 0), (0, 0, 270))):
            Circle(SKETCH22_R, mode=Mode.SUBTRACT)
        with Locations(Location((-20, 42.5, 0), (0, 0, 270))):
            Circle(SKETCH22_R, mode=Mode.SUBTRACT)
        with Locations(Location((20, 32.5, 0), (0, 0, 270))):
            Circle(SKETCH22_R, mode=Mode.SUBTRACT)
        with Locations(Location((20, 42.5, 0), (0, 0, 270))):
            Circle(SKETCH22_R, mode=Mode.SUBTRACT)
        with Locations(Location((90, 32.5, 0), (0, 0, 270))):
            Circle(SKETCH22_R, mode=Mode.SUBTRACT)
        with Locations(Location((90, 42.5, 0), (0, 0, 270))):
            Circle(SKETCH22_R, mode=Mode.SUBTRACT)
        with Locations(Location((130, 32.5, 0), (0, 0, 270))):
            Circle(SKETCH22_R, mode=Mode.SUBTRACT)
        with Locations(Location((130, 42.5, 0), (0, 0, 270))):
            Circle(SKETCH22_R, mode=Mode.SUBTRACT)
        with Locations(Location((-20, 162.5, 0), (0, 0, 270))):
            Circle(SKETCH22_R, mode=Mode.SUBTRACT)
        with Locations(Location((-20, 172.5, 0), (0, 0, 270))):
            Circle(SKETCH22_R, mode=Mode.SUBTRACT)
        with Locations(Location((20, 162.5, 0), (0, 0, 270))):
            Circle(SKETCH22_R, mode=Mode.SUBTRACT)
        with Locations(Location((20, 172.5, 0), (0, 0, 270))):
            Circle(SKETCH22_R, mode=Mode.SUBTRACT)
        with Locations(Location((90, 162.5, 0), (0, 0, 270))):
            Circle(SKETCH22_R, mode=Mode.SUBTRACT)
        with Locations(Location((90, 172.5, 0), (0, 0, 270))):
            Circle(SKETCH22_R, mode=Mode.SUBTRACT)
        with Locations(Location((130, 162.5, 0), (0, 0, 270))):
            Circle(SKETCH22_R, mode=Mode.SUBTRACT)
        with Locations(Location((130, 172.5, 0), (0, 0, 270))):
            Circle(SKETCH22_R, mode=Mode.SUBTRACT)
    extrude(amount=BOSS_EXTRUDE13_DEPTH)

    # Sketch22<3> → Boss-Extrude14 (add)
    # profile 1 of 4: a face of its own
    with BuildSketch(Plane.XZ.offset(35)):
        Polygon((135, 27.5), (135, 45), (132.5, 47.5), (87.5, 47.5), (85, 45), (85, 27.5), align=None)
        with Locations(Location((90, 42.5, 0), (0, 0, 270))):
            Circle(SKETCH22_3_R, mode=Mode.SUBTRACT)
        with Locations(Location((90, 32.5, 0), (0, 0, 270))):
            Circle(SKETCH22_3_R, mode=Mode.SUBTRACT)
        with Locations(Location((130, 32.5, 0), (0, 0, 270))):
            Circle(SKETCH22_3_R, mode=Mode.SUBTRACT)
        with Locations(Location((130, 42.5, 0), (0, 0, 270))):
            Circle(SKETCH22_3_R, mode=Mode.SUBTRACT)
    # profile 2 of 4: a face of its own
    with BuildSketch(Plane.XZ.offset(35)):
        Polygon((-25, 45), (-25, 27.5), (25, 27.5), (25, 45), (22.5, 47.5), (-22.5, 47.5), align=None)
        with Locations(Location((-20, 42.5, 0), (0, 0, 270))):
            Circle(SKETCH22_3_R, mode=Mode.SUBTRACT)
        with Locations(Location((-20, 32.5, 0), (0, 0, 270))):
            Circle(SKETCH22_3_R, mode=Mode.SUBTRACT)
        with Locations(Location((20, 32.5, 0), (0, 0, 270))):
            Circle(SKETCH22_3_R, mode=Mode.SUBTRACT)
        with Locations(Location((20, 42.5, 0), (0, 0, 270))):
            Circle(SKETCH22_3_R, mode=Mode.SUBTRACT)
    # profile 3 of 4: a face of its own
    with BuildSketch(Plane.XZ.offset(35)):
        Polygon((132.5, 157.5), (135, 160), (135, 177.5), (85, 177.5), (85, 160), (87.5, 157.5), align=None)
        with Locations(Location((90, 172.5, 0), (0, 0, 270))):
            Circle(SKETCH22_3_R, mode=Mode.SUBTRACT)
        with Locations(Location((90, 162.5, 0), (0, 0, 270))):
            Circle(SKETCH22_3_R, mode=Mode.SUBTRACT)
        with Locations(Location((130, 172.5, 0), (0, 0, 270))):
            Circle(SKETCH22_3_R, mode=Mode.SUBTRACT)
        with Locations(Location((130, 162.5, 0), (0, 0, 270))):
            Circle(SKETCH22_3_R, mode=Mode.SUBTRACT)
    # profile 4 of 4: a face of its own
    with BuildSketch(Plane.XZ.offset(35)):
        Polygon((-25, 177.5), (-25, 160), (-22.5, 157.5), (22.5, 157.5), (25, 160), (25, 177.5), align=None)
        with Locations(Location((20, 162.5, 0), (0, 0, 270))):
            Circle(SKETCH22_3_R, mode=Mode.SUBTRACT)
        with Locations(Location((-20, 162.5, 0), (0, 0, 270))):
            Circle(SKETCH22_3_R, mode=Mode.SUBTRACT)
        with Locations(Location((-20, 172.5, 0), (0, 0, 270))):
            Circle(SKETCH22_3_R, mode=Mode.SUBTRACT)
        with Locations(Location((20, 172.5, 0), (0, 0, 270))):
            Circle(SKETCH22_3_R, mode=Mode.SUBTRACT)
    extrude(amount=-BOSS_EXTRUDE14_DEPTH)

    # Sketch24 → Cut-Extrude9 (cut, two sides: drawn at the far end of the back side and taken through both)
    with BuildSketch(Plane(origin=(0, -35, 0), x_dir=(1, 0, 0), z_dir=(0, 1, 0)).offset(-CUT_EXTRUDE9_DEPTH_BACK)):
        with BuildLine():
            Line((17.5, -57.5), (92.5, -57.5))
            ThreePointArc((92.5, -57.5), (97.5, -62.5), (92.5, -67.5))
            Line((92.5, -67.5), (17.5, -67.5))
            ThreePointArc((17.5, -67.5), (12.5, -62.5), (17.5, -57.5))
        make_face()
        with BuildLine():
            Line((92.5, -87.5), (17.5, -87.5))
            ThreePointArc((17.5, -87.5), (12.5, -82.5), (17.5, -77.5))
            Line((17.5, -77.5), (92.5, -77.5))
            ThreePointArc((92.5, -77.5), (97.5, -82.5), (92.5, -87.5))
        make_face()
        with BuildLine():
            Line((17.5, -97.5), (92.5, -97.5))
            ThreePointArc((92.5, -97.5), (97.5, -102.5), (92.5, -107.5))
            Line((92.5, -107.5), (17.5, -107.5))
            ThreePointArc((17.5, -107.5), (12.5, -102.5), (17.5, -97.5))
        make_face()
        with BuildLine():
            Line((92.5, -127.5), (17.5, -127.5))
            ThreePointArc((17.5, -127.5), (12.5, -122.5), (17.5, -117.5))
            Line((17.5, -117.5), (92.5, -117.5))
            ThreePointArc((92.5, -117.5), (97.5, -122.5), (92.5, -127.5))
        make_face()
        with BuildLine():
            Line((17.5, -137.5), (92.5, -137.5))
            ThreePointArc((92.5, -137.5), (97.5, -142.5), (92.5, -147.5))
            Line((92.5, -147.5), (17.5, -147.5))
            ThreePointArc((17.5, -147.5), (12.5, -142.5), (17.5, -137.5))
        make_face()
        with BuildLine():
            Line((-7.5, -57.5), (-7.5, -147.5))
            ThreePointArc((-7.5, -147.5), (-15, -155), (-22.5, -147.5))
            Line((-22.5, -147.5), (-22.5, -57.5))
            ThreePointArc((-22.5, -57.5), (-15, -50), (-7.5, -57.5))
        make_face()
        with BuildLine():
            Line((132.5, -57.5), (132.5, -147.5))
            ThreePointArc((132.5, -147.5), (125, -155), (117.5, -147.5))
            Line((117.5, -147.5), (117.5, -57.5))
            ThreePointArc((117.5, -57.5), (125, -50), (132.5, -57.5))
        make_face()
    extrude(amount=CUT_EXTRUDE9_DEPTH + CUT_EXTRUDE9_DEPTH_BACK, mode=Mode.SUBTRACT)


solid = body_2_2.part
